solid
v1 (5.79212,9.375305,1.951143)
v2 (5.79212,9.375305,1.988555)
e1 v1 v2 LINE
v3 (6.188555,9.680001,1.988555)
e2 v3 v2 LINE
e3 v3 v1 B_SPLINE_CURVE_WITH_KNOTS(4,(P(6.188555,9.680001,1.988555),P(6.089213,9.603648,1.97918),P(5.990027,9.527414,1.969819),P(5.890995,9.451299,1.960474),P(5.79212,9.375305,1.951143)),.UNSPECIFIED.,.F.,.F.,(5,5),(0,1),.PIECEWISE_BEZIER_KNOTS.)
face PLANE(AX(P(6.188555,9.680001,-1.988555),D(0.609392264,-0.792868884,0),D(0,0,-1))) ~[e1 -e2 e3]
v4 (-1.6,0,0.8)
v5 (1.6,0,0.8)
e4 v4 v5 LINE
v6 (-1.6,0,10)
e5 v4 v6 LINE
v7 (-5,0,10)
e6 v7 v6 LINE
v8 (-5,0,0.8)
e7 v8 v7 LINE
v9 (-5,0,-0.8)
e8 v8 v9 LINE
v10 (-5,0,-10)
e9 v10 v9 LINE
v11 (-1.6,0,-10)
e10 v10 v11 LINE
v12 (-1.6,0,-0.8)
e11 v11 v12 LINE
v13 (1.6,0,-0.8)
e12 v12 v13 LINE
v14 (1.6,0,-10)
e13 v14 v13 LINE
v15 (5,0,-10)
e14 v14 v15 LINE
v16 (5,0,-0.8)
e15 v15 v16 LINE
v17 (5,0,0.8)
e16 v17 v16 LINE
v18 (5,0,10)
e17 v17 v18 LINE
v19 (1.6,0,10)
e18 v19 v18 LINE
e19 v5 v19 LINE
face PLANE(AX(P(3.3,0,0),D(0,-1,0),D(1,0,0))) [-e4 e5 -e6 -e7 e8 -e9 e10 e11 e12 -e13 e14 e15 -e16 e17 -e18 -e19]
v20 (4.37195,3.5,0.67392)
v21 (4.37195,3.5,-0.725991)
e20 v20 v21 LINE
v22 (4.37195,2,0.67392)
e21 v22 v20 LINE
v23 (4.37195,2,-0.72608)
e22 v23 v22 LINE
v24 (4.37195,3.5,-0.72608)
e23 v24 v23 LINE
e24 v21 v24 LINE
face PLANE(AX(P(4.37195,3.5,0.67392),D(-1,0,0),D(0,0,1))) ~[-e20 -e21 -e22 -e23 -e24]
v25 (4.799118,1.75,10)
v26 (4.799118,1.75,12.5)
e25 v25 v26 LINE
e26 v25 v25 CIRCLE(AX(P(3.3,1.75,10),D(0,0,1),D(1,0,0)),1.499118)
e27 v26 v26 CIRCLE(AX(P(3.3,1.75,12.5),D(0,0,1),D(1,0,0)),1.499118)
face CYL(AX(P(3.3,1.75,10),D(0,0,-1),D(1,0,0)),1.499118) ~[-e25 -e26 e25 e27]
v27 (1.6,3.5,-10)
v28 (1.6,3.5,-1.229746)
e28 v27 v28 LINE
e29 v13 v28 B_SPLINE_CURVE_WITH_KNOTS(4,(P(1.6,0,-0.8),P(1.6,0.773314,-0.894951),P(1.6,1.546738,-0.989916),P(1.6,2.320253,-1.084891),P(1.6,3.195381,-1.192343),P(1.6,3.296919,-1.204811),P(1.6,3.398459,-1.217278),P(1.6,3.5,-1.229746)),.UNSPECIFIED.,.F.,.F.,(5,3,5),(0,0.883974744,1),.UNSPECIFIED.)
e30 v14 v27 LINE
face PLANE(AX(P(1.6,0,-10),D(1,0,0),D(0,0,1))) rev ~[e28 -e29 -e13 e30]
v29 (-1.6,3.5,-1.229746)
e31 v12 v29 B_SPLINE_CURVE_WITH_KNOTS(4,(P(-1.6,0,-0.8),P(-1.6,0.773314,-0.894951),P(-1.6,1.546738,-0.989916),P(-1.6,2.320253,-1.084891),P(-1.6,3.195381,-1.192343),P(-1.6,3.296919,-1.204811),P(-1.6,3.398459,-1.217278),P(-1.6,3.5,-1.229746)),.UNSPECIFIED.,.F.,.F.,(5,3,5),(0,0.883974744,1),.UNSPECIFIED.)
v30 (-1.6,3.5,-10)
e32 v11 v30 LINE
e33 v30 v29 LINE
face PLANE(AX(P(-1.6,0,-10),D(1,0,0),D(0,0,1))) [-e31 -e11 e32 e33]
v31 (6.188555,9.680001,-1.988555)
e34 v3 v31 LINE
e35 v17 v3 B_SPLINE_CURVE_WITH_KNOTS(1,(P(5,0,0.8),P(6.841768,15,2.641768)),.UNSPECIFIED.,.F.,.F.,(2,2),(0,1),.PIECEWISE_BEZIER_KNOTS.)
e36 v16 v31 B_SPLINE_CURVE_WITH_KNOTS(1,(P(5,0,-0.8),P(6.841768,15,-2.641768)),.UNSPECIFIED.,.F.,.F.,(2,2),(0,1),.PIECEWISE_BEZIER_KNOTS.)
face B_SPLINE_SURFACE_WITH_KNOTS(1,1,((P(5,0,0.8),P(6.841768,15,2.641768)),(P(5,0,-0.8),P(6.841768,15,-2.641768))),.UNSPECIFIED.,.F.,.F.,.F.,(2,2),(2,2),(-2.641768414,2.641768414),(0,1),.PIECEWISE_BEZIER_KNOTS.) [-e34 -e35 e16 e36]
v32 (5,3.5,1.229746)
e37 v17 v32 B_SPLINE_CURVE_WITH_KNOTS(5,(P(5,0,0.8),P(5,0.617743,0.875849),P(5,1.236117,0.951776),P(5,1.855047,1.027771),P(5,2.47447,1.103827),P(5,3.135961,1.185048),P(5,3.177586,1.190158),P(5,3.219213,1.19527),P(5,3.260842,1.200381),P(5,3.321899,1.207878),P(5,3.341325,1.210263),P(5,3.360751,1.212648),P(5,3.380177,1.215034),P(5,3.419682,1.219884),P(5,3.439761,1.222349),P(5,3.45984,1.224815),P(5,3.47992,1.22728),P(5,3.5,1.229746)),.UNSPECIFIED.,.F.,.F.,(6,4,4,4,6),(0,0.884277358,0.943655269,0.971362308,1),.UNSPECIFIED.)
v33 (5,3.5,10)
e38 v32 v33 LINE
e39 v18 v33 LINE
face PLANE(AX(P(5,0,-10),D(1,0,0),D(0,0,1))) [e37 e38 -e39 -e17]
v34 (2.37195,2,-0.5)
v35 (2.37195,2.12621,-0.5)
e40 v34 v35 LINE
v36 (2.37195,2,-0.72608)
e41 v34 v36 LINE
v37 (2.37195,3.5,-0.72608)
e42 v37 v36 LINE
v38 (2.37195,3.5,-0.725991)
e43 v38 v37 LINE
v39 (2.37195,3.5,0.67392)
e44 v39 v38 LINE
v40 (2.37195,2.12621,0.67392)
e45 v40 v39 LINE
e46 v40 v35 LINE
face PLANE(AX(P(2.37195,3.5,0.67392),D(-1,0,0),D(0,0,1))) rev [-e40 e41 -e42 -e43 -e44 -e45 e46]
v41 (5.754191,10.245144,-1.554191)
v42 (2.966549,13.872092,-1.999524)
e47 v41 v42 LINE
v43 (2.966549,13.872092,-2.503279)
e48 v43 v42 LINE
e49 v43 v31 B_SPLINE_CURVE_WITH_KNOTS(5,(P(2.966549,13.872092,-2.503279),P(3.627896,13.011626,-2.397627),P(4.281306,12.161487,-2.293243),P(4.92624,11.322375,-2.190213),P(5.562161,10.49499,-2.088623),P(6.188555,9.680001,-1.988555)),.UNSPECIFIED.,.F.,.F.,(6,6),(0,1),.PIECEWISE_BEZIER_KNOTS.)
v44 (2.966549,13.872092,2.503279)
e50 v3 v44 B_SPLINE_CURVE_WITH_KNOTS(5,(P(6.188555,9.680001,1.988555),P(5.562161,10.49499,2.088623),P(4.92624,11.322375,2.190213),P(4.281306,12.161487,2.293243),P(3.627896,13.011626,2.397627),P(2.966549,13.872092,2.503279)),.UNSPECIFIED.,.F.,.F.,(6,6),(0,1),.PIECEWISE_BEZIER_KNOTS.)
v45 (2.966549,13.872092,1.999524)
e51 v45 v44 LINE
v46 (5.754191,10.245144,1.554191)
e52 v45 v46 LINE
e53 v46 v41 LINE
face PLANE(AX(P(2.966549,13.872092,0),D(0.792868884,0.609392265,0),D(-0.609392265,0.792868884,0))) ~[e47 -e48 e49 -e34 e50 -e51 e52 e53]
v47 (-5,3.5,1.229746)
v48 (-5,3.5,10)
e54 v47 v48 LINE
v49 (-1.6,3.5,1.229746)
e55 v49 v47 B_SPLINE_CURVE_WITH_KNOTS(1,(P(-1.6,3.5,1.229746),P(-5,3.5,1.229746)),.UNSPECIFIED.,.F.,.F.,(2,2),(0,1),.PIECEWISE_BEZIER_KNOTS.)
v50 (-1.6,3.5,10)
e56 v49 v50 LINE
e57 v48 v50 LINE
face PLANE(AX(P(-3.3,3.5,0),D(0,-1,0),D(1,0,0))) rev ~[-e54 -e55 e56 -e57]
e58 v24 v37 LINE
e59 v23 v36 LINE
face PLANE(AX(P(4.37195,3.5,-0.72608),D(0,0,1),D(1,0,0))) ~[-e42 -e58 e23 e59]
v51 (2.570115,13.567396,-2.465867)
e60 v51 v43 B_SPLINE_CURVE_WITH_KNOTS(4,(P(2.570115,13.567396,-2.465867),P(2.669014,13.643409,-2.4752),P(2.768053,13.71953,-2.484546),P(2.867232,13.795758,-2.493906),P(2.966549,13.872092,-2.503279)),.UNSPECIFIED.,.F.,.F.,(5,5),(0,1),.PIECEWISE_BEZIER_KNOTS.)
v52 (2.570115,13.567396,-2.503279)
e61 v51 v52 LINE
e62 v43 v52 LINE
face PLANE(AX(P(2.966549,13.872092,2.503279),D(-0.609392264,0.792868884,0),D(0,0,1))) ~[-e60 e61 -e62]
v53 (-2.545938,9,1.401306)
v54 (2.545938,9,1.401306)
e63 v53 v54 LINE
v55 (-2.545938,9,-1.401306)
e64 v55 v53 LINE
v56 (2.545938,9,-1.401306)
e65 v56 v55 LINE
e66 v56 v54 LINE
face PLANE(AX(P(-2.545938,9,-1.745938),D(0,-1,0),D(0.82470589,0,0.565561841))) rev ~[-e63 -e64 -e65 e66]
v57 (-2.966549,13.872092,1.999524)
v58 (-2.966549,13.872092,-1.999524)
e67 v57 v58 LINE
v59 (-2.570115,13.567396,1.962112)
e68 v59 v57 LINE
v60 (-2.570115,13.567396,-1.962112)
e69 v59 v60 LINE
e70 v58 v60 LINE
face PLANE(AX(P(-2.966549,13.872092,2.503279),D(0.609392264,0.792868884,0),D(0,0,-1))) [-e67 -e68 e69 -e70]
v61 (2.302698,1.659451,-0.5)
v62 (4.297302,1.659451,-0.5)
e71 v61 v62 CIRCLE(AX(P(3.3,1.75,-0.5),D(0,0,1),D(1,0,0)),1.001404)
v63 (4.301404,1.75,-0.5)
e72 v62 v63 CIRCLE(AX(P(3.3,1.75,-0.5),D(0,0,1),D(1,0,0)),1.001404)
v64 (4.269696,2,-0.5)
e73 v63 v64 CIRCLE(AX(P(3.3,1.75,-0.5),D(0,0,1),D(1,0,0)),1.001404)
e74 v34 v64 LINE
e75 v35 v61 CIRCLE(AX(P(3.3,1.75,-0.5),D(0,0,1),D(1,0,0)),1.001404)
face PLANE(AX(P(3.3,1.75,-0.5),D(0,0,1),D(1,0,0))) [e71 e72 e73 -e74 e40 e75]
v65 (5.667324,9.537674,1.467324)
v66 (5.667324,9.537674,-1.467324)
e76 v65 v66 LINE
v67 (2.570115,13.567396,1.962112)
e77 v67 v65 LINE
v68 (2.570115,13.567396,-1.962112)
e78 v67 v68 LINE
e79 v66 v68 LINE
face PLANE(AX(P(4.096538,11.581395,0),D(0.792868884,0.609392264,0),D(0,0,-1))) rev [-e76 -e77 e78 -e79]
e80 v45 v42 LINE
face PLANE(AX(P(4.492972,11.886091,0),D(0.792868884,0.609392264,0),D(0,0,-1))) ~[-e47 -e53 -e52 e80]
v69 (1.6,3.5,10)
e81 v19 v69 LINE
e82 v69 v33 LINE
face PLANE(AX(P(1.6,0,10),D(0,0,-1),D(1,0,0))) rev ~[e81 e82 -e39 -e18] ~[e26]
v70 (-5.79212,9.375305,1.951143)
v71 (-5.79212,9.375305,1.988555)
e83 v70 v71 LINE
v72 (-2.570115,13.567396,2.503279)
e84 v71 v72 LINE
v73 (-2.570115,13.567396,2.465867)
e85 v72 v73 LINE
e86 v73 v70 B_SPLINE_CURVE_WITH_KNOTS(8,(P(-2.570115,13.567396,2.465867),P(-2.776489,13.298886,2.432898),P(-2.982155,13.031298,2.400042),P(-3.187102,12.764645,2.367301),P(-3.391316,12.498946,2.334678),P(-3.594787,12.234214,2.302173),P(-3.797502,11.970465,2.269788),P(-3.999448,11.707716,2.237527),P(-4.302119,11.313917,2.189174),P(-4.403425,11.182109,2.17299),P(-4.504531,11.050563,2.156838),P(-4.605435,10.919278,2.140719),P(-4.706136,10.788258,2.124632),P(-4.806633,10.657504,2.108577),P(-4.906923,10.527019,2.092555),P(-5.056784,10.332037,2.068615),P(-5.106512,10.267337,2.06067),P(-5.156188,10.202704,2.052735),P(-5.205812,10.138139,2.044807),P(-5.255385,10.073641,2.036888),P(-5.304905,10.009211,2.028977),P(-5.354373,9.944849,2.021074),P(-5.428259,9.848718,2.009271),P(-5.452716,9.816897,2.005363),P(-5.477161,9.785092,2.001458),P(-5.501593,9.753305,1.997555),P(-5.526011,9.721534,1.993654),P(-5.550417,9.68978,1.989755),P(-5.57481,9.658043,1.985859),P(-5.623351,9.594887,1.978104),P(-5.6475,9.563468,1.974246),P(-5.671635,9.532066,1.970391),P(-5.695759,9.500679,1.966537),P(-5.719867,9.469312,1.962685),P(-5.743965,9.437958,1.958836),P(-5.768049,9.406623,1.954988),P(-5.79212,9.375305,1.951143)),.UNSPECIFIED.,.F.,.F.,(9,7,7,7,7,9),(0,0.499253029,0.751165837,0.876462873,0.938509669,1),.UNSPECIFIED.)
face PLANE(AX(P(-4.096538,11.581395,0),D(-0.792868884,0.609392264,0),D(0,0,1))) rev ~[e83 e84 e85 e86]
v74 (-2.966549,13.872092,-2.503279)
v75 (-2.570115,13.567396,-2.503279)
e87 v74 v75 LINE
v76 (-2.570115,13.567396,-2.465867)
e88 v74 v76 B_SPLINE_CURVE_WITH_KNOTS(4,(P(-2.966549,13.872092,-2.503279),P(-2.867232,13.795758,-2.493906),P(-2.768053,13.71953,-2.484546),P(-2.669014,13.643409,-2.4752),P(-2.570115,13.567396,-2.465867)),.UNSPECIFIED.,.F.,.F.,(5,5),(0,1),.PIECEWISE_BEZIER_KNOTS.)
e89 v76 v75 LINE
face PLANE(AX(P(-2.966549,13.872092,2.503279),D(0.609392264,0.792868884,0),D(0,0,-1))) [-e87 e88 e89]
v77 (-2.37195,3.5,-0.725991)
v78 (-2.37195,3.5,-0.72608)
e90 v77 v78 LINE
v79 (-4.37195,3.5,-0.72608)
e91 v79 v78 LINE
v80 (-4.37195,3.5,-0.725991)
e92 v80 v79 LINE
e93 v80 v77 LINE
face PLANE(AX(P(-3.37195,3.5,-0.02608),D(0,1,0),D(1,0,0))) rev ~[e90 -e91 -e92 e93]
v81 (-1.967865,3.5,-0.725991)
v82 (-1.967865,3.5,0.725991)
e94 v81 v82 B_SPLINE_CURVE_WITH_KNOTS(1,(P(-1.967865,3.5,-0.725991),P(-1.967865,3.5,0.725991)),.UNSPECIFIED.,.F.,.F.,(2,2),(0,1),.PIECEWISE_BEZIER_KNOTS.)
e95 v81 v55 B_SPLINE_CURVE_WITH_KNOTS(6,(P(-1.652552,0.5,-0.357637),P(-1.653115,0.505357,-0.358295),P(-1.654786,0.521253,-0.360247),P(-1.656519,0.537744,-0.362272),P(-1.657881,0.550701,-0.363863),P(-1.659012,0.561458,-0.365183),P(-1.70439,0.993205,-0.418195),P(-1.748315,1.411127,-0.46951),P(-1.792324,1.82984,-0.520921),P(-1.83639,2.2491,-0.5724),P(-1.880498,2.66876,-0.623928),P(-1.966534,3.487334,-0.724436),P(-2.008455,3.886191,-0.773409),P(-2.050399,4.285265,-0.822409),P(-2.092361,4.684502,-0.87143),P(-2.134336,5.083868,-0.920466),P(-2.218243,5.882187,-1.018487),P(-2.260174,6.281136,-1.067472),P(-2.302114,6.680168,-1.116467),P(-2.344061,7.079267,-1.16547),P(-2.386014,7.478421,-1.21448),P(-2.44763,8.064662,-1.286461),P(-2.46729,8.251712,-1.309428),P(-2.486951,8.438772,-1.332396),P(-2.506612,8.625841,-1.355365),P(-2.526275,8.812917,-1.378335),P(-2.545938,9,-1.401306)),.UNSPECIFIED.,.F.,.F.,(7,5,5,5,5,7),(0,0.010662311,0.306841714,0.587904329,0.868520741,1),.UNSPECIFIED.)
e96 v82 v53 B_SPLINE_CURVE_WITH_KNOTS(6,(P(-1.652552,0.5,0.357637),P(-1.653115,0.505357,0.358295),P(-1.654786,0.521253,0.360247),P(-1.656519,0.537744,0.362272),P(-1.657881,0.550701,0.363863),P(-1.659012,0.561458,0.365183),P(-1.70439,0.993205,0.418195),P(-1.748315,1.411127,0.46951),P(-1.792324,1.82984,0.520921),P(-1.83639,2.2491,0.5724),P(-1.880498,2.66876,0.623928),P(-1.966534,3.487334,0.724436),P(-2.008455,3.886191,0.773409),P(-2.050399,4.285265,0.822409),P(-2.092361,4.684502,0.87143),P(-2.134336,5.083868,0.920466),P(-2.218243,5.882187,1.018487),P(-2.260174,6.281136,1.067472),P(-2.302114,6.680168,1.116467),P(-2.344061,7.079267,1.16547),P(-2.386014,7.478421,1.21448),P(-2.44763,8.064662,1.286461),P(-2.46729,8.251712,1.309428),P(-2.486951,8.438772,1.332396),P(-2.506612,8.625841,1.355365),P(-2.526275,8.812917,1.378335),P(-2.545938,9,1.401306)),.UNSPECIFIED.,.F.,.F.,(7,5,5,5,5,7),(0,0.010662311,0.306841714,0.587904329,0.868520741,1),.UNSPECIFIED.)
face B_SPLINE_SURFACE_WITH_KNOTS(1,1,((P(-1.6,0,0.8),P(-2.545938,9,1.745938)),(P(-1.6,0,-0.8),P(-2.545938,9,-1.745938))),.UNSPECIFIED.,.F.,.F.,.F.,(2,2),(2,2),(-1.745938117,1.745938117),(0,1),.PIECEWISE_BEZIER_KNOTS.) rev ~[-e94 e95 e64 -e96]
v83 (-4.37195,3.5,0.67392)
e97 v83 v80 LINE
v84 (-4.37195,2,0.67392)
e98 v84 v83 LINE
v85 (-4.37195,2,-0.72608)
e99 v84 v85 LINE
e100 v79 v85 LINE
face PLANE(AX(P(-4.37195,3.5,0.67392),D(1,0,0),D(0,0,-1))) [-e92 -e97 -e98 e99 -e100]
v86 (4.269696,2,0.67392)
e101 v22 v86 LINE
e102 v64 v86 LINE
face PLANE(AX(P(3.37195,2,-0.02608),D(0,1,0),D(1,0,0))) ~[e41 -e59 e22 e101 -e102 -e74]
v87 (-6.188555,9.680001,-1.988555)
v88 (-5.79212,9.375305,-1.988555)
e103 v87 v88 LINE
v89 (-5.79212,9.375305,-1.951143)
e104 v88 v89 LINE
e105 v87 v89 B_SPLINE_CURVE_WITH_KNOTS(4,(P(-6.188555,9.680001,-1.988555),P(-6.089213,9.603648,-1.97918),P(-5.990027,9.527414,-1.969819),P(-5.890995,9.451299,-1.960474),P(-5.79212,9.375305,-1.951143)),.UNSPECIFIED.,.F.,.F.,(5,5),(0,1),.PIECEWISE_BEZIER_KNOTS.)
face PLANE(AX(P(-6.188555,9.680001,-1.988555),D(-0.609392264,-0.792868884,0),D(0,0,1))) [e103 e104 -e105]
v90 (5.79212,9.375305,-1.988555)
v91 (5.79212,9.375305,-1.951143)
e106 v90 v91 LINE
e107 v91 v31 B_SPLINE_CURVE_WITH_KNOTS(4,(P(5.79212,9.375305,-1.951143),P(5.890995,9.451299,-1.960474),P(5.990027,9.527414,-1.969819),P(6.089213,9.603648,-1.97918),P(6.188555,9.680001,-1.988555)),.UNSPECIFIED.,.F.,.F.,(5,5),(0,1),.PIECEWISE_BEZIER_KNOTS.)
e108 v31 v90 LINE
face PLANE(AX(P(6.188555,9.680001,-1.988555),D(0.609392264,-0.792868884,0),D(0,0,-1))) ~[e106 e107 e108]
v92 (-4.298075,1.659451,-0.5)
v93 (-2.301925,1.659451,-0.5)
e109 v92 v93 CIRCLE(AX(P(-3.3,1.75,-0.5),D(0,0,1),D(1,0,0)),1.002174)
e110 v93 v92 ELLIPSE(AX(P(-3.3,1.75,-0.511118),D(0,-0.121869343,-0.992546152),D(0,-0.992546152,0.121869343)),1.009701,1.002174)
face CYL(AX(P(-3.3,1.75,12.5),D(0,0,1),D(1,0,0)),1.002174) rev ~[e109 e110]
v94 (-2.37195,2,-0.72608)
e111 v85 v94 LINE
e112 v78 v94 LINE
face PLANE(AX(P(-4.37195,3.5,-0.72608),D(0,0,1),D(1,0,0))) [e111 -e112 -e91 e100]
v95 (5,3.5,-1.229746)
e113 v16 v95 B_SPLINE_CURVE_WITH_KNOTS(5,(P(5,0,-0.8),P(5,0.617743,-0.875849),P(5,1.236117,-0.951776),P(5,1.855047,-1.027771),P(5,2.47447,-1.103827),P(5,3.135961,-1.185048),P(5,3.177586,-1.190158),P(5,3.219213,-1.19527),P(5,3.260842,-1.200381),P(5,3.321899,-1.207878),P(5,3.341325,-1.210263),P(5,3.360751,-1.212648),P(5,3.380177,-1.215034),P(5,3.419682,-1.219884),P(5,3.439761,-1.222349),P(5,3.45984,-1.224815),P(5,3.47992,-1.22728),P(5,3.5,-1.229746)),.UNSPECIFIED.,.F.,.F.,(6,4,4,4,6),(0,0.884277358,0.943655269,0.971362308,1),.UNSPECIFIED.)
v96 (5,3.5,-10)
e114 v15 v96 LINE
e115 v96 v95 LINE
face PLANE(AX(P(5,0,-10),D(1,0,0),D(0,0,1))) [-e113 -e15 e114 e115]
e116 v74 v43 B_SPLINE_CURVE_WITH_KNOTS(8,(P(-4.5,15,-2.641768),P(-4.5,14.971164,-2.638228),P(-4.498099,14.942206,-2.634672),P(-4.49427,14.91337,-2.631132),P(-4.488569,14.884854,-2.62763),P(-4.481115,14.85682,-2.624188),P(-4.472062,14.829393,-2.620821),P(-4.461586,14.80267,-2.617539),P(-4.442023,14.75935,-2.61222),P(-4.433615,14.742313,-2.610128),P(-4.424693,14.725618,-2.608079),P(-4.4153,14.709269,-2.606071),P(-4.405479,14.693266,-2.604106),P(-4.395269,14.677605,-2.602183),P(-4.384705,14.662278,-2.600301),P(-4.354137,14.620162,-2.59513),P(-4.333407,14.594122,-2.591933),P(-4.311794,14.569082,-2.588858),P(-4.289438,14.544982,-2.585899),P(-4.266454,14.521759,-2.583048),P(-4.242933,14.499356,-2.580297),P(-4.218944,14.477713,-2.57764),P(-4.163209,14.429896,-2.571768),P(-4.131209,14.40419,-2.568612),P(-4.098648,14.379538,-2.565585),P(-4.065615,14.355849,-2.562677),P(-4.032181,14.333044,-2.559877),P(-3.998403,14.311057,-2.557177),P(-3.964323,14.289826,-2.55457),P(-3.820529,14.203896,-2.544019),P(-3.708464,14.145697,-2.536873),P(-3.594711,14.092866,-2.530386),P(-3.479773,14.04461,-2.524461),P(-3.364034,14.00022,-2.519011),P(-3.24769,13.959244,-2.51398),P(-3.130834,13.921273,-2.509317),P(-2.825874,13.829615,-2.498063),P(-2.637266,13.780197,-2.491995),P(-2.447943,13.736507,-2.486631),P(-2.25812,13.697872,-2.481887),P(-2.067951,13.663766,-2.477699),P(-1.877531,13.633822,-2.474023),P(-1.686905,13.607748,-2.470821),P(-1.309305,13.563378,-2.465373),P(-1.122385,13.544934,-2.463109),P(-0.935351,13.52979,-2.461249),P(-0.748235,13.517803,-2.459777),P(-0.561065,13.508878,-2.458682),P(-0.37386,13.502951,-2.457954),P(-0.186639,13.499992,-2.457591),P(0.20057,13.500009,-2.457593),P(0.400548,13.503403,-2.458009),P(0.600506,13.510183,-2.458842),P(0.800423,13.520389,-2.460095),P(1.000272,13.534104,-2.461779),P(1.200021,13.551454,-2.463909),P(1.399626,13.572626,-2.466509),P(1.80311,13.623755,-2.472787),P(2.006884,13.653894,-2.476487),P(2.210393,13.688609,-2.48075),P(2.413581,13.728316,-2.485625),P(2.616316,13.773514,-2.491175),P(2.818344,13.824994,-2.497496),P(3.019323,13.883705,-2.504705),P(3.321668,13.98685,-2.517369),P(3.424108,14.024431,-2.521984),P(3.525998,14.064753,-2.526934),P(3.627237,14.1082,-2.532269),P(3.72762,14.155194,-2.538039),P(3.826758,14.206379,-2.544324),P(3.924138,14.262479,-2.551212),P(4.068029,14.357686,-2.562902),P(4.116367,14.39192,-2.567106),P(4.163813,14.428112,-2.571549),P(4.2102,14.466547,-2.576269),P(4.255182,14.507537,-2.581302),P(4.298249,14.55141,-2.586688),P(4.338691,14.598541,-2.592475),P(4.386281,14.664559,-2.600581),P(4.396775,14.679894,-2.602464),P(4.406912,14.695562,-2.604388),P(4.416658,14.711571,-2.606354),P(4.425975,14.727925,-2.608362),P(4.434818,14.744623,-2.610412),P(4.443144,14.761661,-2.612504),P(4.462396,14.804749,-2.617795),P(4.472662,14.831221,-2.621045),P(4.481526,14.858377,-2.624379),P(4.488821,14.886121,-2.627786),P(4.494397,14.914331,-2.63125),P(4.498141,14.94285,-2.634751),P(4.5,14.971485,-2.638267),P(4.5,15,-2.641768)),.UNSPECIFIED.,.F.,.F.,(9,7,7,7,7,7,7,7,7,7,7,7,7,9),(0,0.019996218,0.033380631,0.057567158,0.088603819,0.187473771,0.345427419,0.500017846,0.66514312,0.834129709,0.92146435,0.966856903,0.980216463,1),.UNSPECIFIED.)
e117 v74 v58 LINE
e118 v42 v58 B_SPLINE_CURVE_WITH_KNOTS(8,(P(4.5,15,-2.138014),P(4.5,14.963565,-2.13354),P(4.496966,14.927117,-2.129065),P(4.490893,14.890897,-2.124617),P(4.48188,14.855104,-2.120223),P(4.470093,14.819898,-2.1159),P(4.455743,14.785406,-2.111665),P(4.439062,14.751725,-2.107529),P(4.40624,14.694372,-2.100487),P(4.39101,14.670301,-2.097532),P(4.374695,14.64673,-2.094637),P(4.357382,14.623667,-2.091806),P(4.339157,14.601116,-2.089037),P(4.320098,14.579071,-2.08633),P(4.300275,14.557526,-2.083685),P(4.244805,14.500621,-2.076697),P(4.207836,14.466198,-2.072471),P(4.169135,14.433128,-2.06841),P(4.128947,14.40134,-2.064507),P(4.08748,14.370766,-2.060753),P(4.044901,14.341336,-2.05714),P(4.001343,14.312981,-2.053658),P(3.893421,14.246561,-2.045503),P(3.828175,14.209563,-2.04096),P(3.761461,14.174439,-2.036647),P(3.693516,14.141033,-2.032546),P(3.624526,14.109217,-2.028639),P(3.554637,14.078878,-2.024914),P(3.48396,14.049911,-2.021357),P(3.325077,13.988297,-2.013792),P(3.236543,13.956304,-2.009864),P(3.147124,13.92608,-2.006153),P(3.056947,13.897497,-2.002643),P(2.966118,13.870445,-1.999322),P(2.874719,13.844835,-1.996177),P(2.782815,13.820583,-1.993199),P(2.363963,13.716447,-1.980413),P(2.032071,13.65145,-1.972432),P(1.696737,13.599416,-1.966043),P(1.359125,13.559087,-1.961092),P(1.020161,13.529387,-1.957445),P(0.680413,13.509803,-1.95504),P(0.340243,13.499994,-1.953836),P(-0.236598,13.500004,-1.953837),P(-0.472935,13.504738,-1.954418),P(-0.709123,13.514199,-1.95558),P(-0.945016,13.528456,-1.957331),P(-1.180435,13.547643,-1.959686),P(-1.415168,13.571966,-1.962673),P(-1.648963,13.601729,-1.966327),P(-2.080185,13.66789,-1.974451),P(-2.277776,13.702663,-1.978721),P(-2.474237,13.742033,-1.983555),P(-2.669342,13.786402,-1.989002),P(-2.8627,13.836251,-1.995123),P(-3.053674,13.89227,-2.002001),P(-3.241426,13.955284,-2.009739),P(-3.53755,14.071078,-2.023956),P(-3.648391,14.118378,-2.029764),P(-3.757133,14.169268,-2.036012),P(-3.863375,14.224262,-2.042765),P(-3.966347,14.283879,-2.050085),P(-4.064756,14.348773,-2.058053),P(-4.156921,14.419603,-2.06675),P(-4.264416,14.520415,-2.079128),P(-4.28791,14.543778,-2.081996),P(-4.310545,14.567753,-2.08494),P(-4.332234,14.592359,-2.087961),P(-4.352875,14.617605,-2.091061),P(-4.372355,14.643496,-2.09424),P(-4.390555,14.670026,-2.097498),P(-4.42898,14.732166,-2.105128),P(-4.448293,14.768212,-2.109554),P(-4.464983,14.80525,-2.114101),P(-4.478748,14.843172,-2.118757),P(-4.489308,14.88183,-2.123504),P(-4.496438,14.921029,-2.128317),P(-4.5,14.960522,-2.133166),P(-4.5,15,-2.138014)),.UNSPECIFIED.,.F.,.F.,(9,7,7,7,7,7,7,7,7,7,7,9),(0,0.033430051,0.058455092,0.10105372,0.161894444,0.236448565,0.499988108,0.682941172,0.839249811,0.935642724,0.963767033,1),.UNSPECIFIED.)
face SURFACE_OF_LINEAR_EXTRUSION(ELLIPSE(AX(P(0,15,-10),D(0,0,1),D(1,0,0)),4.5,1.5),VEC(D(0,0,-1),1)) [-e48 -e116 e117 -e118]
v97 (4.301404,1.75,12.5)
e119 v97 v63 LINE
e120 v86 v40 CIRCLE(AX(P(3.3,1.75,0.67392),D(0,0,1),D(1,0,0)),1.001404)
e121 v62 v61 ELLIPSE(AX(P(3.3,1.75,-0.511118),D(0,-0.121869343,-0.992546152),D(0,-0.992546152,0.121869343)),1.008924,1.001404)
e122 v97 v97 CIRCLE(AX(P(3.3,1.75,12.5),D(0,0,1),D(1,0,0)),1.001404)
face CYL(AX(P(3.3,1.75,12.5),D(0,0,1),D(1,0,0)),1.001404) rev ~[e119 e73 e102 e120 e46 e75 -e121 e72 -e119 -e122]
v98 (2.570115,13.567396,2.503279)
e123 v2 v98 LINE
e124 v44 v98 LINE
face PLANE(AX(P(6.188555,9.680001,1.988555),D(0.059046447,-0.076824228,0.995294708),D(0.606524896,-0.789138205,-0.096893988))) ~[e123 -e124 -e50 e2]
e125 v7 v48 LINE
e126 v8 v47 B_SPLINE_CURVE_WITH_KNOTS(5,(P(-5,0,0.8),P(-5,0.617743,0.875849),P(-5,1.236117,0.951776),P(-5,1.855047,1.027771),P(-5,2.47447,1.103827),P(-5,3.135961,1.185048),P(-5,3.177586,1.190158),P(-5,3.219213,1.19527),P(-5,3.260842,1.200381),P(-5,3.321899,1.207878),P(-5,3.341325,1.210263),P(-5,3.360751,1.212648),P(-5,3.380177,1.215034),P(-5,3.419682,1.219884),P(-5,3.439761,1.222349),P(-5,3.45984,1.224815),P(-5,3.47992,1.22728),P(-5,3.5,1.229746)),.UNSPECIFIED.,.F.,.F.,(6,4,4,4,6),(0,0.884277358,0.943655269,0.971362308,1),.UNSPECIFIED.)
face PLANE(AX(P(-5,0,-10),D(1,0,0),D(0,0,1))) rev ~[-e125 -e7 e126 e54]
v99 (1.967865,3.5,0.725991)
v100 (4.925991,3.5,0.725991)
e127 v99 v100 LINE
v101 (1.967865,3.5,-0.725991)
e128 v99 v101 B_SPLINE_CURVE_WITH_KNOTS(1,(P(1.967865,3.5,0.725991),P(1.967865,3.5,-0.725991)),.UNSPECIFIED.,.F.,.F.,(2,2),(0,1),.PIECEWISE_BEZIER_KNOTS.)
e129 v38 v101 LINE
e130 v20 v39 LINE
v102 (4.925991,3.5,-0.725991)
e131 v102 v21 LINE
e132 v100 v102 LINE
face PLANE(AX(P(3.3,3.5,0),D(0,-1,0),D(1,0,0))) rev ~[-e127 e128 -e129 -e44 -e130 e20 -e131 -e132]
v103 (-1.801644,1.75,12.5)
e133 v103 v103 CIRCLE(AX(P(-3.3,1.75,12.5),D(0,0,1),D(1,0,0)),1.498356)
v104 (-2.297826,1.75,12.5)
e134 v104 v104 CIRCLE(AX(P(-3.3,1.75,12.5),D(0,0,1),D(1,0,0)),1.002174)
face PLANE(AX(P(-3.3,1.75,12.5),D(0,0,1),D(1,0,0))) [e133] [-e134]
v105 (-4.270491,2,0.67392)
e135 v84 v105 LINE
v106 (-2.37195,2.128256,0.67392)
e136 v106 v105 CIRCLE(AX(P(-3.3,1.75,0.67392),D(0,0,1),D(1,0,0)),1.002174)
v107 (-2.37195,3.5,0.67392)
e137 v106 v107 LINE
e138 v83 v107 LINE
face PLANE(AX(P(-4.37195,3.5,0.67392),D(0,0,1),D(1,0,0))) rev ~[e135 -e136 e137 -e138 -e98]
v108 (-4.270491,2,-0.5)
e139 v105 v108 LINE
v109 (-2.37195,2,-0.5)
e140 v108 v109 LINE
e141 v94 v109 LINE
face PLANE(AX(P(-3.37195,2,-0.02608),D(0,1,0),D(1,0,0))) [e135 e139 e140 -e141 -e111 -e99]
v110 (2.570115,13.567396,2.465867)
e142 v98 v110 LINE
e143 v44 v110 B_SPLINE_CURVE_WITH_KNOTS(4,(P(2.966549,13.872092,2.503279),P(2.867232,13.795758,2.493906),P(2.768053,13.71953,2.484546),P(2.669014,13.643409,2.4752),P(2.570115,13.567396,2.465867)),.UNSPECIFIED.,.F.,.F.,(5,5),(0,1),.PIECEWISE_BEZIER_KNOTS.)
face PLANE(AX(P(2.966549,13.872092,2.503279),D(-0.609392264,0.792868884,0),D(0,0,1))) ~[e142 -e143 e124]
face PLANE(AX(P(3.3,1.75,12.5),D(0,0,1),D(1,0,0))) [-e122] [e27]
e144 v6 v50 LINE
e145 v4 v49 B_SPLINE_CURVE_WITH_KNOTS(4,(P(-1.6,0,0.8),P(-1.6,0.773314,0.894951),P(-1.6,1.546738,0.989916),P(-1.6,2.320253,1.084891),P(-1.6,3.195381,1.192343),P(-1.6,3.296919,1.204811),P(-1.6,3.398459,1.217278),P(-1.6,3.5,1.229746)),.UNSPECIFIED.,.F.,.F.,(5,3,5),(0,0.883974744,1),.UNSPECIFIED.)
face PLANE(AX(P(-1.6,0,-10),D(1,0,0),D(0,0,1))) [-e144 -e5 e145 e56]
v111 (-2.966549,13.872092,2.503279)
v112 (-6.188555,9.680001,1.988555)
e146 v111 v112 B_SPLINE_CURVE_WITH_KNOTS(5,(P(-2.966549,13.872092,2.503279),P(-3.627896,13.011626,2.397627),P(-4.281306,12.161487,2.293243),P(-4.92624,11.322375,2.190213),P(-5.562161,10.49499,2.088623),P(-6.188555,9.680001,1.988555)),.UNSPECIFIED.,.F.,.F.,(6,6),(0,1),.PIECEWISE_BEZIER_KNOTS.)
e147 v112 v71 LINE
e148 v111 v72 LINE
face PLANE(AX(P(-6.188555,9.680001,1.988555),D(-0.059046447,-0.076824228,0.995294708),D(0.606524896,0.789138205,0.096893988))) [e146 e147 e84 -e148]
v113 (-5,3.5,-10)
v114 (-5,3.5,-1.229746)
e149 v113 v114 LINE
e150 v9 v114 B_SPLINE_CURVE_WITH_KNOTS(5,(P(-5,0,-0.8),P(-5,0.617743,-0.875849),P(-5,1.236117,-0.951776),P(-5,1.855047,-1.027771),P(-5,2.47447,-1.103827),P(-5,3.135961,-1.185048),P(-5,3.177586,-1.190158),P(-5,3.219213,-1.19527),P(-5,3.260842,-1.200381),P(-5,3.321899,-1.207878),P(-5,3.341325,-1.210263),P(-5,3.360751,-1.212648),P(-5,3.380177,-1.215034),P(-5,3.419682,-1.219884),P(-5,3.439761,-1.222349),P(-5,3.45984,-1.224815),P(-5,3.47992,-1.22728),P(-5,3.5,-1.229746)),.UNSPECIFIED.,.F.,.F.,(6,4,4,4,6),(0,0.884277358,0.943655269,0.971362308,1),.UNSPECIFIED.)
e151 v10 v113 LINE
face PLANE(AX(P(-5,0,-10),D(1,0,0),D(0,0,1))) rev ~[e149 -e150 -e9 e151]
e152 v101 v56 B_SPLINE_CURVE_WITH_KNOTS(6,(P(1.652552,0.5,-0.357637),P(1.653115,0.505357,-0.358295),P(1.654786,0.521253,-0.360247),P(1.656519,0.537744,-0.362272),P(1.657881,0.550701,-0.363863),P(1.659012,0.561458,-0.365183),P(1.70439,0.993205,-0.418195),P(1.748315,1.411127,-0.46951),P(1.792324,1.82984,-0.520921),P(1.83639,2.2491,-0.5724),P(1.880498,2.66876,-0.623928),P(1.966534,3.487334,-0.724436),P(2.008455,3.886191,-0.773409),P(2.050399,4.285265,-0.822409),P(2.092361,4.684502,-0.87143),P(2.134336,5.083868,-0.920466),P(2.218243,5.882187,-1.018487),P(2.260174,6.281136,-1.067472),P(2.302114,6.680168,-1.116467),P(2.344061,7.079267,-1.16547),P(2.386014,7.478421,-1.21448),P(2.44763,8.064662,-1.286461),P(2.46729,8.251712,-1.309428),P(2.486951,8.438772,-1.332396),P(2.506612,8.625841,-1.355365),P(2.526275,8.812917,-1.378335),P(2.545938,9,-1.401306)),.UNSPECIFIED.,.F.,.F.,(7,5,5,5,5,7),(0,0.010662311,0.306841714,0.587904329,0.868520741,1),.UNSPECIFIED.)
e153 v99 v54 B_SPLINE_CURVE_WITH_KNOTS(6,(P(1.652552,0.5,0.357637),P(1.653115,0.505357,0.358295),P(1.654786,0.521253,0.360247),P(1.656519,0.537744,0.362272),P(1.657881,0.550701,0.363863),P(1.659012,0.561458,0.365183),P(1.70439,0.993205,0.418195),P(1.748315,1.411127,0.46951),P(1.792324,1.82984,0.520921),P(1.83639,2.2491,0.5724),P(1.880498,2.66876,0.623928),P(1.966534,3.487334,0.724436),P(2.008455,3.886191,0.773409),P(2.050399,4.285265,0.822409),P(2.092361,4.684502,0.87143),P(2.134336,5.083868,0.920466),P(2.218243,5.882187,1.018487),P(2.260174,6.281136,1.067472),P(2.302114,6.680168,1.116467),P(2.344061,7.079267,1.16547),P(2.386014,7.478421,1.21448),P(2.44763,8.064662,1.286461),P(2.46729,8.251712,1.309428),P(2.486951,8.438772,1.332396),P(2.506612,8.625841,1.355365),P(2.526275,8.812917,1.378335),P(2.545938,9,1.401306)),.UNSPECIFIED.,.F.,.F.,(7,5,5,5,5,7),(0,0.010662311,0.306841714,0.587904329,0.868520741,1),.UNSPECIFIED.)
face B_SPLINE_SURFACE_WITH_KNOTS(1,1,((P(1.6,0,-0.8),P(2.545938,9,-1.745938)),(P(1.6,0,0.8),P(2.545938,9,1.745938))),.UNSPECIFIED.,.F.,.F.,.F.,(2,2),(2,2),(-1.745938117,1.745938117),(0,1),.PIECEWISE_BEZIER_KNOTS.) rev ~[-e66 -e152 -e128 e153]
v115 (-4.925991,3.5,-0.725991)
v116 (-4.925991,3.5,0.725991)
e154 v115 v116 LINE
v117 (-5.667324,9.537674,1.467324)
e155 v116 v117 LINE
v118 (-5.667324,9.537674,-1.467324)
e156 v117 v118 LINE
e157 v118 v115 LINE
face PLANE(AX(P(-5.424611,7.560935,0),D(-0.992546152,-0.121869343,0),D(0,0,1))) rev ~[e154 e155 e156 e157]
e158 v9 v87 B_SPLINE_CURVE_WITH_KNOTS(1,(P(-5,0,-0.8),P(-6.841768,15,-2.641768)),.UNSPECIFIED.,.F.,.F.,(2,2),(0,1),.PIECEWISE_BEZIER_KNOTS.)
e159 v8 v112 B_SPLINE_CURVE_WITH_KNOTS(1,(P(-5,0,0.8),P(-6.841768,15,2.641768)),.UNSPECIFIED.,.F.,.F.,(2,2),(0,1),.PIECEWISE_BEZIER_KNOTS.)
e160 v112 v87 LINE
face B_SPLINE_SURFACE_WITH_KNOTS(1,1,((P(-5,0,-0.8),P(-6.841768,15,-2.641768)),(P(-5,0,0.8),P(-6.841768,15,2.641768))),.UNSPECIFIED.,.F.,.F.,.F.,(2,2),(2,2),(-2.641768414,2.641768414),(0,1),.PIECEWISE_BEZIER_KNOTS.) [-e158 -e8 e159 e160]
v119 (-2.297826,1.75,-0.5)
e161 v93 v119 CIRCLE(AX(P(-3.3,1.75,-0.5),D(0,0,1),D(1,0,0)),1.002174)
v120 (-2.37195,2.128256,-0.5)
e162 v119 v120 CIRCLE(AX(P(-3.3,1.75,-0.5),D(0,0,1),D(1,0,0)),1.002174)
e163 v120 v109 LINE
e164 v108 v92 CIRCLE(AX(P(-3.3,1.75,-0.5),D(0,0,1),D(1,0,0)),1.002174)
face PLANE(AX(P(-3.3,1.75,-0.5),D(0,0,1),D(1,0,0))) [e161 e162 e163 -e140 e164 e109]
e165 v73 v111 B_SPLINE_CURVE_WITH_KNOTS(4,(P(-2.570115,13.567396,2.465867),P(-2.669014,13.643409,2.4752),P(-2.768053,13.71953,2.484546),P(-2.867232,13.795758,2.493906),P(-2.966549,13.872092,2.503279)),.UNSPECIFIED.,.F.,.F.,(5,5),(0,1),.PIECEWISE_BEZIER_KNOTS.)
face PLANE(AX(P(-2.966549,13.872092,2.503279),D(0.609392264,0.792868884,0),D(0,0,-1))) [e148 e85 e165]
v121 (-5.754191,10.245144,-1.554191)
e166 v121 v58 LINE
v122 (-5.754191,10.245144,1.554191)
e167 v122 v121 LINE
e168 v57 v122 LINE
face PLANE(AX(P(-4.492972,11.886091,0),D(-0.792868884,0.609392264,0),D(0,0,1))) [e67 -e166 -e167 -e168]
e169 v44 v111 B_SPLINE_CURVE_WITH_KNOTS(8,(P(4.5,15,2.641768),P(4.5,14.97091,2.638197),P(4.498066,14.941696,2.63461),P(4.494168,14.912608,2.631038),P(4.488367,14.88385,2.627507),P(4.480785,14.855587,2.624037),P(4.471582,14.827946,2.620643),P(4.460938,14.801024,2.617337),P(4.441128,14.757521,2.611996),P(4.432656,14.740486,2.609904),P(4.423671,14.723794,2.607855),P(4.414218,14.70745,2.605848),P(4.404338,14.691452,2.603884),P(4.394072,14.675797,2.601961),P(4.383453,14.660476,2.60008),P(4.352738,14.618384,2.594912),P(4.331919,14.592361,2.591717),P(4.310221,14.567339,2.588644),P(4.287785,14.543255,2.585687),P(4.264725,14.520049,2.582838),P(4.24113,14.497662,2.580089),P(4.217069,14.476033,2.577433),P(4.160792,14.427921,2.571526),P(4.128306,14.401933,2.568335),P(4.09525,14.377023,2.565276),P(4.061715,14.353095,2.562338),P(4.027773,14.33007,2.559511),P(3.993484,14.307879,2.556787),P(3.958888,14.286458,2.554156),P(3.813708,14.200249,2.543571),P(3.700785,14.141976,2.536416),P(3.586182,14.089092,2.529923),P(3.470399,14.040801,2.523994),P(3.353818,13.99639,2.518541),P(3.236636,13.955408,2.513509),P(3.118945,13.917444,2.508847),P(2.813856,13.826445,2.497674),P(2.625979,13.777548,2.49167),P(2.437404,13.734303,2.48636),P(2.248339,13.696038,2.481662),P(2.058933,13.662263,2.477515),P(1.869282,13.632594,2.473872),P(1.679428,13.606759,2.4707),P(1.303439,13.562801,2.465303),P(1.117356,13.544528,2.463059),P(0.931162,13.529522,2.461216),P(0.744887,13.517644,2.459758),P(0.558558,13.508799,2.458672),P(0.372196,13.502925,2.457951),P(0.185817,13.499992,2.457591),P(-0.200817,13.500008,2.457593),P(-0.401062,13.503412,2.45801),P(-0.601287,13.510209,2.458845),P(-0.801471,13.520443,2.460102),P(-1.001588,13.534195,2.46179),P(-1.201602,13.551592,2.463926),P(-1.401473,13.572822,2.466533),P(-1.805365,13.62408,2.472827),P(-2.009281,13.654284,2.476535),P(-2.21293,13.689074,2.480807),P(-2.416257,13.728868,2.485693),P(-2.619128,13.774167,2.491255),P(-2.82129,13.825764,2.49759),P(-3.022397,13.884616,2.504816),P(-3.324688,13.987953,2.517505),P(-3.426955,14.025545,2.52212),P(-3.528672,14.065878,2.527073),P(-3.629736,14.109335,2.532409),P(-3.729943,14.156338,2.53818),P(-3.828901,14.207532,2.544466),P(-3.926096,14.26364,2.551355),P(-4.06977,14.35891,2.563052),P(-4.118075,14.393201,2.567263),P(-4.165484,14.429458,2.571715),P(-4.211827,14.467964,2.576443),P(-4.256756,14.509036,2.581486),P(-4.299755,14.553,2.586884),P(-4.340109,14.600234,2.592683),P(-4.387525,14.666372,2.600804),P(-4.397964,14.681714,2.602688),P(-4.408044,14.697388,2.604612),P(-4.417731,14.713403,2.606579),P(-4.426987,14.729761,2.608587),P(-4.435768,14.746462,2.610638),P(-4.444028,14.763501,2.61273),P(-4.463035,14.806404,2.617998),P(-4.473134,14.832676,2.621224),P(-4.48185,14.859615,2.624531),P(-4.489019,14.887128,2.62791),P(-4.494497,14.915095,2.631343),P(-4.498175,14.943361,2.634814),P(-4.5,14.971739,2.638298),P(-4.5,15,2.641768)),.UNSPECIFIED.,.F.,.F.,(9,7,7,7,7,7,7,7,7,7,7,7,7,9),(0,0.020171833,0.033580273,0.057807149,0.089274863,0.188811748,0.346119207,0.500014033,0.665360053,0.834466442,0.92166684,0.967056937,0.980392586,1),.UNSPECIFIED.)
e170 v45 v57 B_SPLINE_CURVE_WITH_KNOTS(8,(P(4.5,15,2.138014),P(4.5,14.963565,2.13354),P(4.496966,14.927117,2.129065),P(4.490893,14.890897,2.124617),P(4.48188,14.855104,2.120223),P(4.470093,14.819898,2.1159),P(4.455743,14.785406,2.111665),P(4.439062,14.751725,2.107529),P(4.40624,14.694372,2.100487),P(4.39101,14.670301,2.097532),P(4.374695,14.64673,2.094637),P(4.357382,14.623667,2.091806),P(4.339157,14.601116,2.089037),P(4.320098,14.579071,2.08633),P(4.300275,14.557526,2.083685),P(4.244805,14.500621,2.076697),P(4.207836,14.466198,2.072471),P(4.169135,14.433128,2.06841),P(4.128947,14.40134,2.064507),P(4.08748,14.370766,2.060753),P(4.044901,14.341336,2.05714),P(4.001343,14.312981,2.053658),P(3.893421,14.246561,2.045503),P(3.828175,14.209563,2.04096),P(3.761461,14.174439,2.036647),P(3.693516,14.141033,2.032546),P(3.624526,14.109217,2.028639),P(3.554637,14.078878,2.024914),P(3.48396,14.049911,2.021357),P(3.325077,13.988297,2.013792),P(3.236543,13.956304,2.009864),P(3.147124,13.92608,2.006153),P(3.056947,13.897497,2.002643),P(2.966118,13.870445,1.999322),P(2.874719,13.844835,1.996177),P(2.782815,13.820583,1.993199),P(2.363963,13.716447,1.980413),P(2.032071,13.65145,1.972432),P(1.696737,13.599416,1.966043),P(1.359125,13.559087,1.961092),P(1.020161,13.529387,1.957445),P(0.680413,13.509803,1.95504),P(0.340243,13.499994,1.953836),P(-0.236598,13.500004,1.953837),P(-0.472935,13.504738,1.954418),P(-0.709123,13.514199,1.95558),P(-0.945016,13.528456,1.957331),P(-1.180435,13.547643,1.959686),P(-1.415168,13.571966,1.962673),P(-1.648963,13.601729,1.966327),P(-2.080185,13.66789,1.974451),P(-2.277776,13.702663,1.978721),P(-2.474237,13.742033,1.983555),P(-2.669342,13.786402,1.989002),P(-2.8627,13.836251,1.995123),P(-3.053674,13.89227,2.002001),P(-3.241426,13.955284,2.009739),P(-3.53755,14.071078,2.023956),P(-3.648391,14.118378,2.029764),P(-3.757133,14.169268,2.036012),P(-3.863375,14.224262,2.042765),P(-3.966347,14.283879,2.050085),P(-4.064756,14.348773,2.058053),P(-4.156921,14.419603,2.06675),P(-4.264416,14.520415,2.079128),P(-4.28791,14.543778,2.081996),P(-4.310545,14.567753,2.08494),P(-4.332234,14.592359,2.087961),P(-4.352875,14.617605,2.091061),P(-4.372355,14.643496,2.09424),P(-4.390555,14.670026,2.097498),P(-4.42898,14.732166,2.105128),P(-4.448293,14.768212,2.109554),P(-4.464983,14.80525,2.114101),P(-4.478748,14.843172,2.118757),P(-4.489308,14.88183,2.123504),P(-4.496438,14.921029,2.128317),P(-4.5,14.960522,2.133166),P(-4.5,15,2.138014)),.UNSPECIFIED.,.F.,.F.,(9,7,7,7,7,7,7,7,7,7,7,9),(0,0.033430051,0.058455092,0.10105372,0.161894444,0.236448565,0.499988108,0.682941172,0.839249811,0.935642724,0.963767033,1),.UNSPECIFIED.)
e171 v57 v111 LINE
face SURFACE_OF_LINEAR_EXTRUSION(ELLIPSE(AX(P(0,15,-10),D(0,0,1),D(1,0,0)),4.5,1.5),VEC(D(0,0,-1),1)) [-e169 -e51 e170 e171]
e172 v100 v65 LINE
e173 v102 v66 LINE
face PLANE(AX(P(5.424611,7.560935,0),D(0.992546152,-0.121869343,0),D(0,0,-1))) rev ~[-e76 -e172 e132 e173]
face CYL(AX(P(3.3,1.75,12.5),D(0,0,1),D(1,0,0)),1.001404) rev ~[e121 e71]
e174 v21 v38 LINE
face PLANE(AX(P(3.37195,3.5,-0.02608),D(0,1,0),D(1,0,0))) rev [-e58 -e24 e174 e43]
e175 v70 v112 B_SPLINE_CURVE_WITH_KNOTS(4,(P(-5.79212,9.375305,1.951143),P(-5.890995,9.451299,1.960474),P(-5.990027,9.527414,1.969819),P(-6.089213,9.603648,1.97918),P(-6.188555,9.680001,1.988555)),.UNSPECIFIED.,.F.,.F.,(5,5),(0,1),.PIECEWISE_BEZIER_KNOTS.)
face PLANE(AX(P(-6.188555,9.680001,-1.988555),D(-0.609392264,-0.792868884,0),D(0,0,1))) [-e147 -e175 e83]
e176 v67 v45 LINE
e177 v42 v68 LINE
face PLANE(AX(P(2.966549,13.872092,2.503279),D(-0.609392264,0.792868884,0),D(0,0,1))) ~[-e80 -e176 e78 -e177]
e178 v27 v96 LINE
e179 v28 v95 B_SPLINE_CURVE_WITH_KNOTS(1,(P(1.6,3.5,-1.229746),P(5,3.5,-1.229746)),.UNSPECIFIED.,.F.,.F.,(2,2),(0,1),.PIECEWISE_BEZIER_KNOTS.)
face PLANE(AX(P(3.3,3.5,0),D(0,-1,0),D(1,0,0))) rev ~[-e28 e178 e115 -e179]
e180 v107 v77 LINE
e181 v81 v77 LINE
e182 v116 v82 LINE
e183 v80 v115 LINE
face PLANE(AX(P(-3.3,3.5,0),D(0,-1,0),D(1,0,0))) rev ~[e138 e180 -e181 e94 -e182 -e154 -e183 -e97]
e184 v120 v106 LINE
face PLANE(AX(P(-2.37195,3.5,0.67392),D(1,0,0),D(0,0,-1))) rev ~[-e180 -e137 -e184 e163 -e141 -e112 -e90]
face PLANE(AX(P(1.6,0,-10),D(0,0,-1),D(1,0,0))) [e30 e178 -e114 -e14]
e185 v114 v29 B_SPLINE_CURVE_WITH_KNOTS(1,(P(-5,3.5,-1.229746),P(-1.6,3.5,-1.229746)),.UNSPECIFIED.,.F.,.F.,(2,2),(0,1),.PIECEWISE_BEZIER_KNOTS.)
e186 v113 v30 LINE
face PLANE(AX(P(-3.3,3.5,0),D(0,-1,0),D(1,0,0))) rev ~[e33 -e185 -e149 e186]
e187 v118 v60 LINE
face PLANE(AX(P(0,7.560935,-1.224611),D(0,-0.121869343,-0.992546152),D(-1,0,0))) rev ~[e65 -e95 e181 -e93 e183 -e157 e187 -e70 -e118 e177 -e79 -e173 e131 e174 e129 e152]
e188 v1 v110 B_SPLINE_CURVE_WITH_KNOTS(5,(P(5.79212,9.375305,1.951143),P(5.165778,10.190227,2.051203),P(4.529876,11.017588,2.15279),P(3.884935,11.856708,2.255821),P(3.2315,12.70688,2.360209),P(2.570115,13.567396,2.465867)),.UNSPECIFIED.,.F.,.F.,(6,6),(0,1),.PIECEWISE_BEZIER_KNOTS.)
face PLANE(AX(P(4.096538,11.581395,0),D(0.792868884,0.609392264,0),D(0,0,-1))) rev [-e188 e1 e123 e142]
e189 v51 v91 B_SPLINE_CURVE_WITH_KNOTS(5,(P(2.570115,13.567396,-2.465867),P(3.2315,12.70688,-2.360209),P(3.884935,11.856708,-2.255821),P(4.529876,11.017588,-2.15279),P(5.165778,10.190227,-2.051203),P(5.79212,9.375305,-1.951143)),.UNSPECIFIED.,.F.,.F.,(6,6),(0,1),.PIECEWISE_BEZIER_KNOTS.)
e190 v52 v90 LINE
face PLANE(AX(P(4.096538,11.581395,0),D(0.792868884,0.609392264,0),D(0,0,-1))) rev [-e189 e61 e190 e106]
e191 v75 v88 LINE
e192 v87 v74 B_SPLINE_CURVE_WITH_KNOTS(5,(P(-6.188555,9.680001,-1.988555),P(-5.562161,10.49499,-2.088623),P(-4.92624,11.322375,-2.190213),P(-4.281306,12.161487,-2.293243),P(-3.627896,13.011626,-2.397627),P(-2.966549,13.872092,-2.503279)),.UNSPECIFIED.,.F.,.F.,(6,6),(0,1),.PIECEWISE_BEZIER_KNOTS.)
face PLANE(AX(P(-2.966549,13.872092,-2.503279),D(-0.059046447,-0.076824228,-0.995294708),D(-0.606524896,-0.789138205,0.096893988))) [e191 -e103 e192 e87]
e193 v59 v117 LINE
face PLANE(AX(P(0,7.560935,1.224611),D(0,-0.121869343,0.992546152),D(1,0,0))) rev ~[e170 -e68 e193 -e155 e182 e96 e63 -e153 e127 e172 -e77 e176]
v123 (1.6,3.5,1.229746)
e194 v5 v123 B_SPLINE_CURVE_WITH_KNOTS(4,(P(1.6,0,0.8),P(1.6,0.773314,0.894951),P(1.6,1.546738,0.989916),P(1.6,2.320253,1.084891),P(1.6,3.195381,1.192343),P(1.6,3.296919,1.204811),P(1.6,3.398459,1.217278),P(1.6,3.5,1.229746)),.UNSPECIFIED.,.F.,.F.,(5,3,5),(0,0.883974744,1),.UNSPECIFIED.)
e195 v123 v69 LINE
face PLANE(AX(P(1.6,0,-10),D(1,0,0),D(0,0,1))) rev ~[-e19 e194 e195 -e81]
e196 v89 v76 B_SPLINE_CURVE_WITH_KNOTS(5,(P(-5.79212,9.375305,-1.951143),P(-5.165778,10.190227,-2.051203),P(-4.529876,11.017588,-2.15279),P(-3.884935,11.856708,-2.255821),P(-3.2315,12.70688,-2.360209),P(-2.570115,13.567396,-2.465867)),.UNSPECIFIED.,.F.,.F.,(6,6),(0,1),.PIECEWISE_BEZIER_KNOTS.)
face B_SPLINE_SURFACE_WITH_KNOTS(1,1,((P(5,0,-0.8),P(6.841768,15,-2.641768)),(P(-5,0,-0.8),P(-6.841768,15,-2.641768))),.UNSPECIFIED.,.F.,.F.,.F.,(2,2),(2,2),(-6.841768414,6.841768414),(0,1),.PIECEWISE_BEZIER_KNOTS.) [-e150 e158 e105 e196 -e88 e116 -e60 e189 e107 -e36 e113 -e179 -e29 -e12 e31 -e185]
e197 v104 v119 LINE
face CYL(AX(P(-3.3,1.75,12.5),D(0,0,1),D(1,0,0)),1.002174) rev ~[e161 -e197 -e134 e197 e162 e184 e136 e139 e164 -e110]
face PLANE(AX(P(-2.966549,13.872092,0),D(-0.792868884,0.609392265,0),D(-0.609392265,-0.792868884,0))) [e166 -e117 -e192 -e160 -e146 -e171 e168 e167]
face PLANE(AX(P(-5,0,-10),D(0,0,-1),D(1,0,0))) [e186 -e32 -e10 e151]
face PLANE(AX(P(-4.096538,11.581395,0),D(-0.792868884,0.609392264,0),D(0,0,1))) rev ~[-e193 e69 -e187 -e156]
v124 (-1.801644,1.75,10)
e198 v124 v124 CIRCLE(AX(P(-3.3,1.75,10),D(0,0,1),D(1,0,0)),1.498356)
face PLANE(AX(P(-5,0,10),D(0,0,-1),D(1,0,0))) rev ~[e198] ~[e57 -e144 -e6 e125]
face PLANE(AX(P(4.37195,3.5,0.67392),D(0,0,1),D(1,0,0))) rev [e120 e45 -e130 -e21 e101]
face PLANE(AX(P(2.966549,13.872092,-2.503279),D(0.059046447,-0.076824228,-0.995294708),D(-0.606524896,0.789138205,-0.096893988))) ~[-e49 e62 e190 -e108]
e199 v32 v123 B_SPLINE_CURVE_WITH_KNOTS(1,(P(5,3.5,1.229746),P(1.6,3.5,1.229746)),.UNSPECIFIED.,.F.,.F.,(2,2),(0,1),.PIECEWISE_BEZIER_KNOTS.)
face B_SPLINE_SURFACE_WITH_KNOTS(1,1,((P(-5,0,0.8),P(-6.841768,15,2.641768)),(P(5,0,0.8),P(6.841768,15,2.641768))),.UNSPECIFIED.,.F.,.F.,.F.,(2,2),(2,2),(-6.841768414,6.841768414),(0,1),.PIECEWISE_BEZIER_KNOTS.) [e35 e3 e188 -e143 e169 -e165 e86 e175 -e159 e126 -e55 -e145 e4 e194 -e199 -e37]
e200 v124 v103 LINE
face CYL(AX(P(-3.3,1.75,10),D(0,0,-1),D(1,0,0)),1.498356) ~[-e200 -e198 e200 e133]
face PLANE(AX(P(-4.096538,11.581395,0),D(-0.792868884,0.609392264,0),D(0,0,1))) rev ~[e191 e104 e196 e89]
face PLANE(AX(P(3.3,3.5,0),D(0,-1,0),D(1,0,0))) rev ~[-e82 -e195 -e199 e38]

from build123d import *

# Parameters (mm, degrees)
SKETCH1_W                = 10
SKETCH1_H                = 1.6
BOSS_EXTRUDE1_DEPTH      = 15
BOSS_EXTRUDE1_TAPER      = -7
SHELL1_T                 = -0.5
SKETCH6_W                = 3.4
SKETCH6_H                = 20
BOSS_EXTRUDE2_DEPTH      = 3.5
BOSS_EXTRUDE2_2_DEPTH    = 3.5
CUT_EXTRUDE11_DEPTH      = 10
CUT_EXTRUDE11_DEPTH_BACK = 10
SKETCH11_RX              = 4.5
SKETCH11_RY              = 1.5
CUT_EXTRUDE12_DEPTH      = 10
BOSS_EXTRUDE3_DEPTH      = 0.5
SKETCH20_R               = 1.499118307
BOSS_EXTRUDE4_DEPTH      = 2.5
SKETCH22_R               = 1.001403974
CUT_EXTRUDE13_DEPTH      = 13
SKETCH25_W               = 2
SKETCH25_H               = 1.4
CUT_EXTRUDE14_DEPTH      = 1.5
SKETCH28_R               = 1.498355692
BOSS_EXTRUDE5_DEPTH      = 2.5
SKETCH29_R               = 1.002174376
CUT_EXTRUDE15_DEPTH      = 13
SKETCH30_W               = 3.2
SKETCH30_H               = 1.6
BOSS_EXTRUDE6_DEPTH      = 9
BOSS_EXTRUDE6_TAPER      = -6


with BuildPart() as part:
    # Sketch1 → Boss-Extrude1 (new body)
    with BuildSketch(Plane(origin=(0, 0, 0), x_dir=(1, 0, 0), z_dir=(0, 1, 0))):
        Rectangle(SKETCH1_W, SKETCH1_H)
    extrude(amount=BOSS_EXTRUDE1_DEPTH, taper=BOSS_EXTRUDE1_TAPER)

    # Shell1
    shell1_openings = [part.faces().sort_by_distance(p)[0] for p in [
        (0, 15, 0),
    ]]
    offset(amount=SHELL1_T, openings=shell1_openings, kind=Kind.INTERSECTION)

    # Sketch11 → Cut-Extrude11 (cut, two sides: drawn at the far end of the back side and taken through both)
    with BuildSketch(Plane.XY.offset(-CUT_EXTRUDE11_DEPTH_BACK)):
        with Locations((0, 15)):
            Ellipse(SKETCH11_RX, SKETCH11_RY)
    extrude(amount=CUT_EXTRUDE11_DEPTH + CUT_EXTRUDE11_DEPTH_BACK, mode=Mode.SUBTRACT)

    # Sketch18 → Cut-Extrude12 (cut, symmetric)
    with BuildSketch(Plane.XY):
        Polygon((-2.966549011, 13.872092056), (-6.188554642, 9.680000756), (-6.937287507, 15.777940591), (-2.966549011, 15.777940591), align=None)
    cut_extrude12 = extrude(amount=CUT_EXTRUDE12_DEPTH, both=True, mode=Mode.SUBTRACT)

    # Sketch19 → Boss-Extrude3 (add)
    with BuildSketch(Plane(origin=(-8.567447802, 6.584867333, 0), x_dir=(0, 0, 1), z_dir=(-0.7928688844776028, 0.6093922644957365, 0))):
        Polygon((1.988554642, 3.903714074), (2.503278732, 9.190958134), (-2.503278732, 9.190958134), (-1.988554642, 3.903714074), align=None)
    boss_extrude3 = extrude(amount=-BOSS_EXTRUDE3_DEPTH)

    # Mirror2: Cut-Extrude12 across plane
    add(cut_extrude12.mirror(Plane(origin=(0, 0, 0), x_dir=(0, 0, 1), z_dir=(1, 0, 0))), mode=Mode.SUBTRACT)

    # Mirror3: Boss-Extrude3 across plane
    add(boss_extrude3.mirror(Plane(origin=(0, 0, 0), x_dir=(0, 0, 1), z_dir=(1, 0, 0))))


with BuildPart() as body_2:
    # Sketch6 → Boss-Extrude2 (new body)
    with BuildSketch(Plane.XZ):
        with Locations((-3.3, 0)):
            Rectangle(SKETCH6_W, SKETCH6_H)
    extrude(amount=-BOSS_EXTRUDE2_DEPTH)


with BuildPart() as body_3:
    # Sketch6 → Boss-Extrude2 2 (new body)
    with BuildSketch(Plane.XZ):
        with Locations((3.3, 0)):
            Rectangle(SKETCH6_W, SKETCH6_H)
    extrude(amount=-BOSS_EXTRUDE2_2_DEPTH)

    # Sketch20 → Boss-Extrude4 (add)
    with BuildSketch(Plane.XY.offset(10)):
        with Locations((3.3, 1.75)):
            Circle(SKETCH20_R)
    extrude(amount=BOSS_EXTRUDE4_DEPTH)


with BuildPart() as cut_extrude13_tool:
    # Sketch22 → Cut-Extrude13 (new body)
    with BuildSketch(Plane.XY.offset(12.5)):
        with Locations((3.3, 1.75)):
            Circle(SKETCH22_R)
    extrude(amount=-CUT_EXTRUDE13_DEPTH)


with BuildPart() as part_1:
    add(part.part)

    # Cut-Extrude13: cut by cut_extrude13_tool
    add(cut_extrude13_tool.part, mode=Mode.SUBTRACT)


with BuildPart() as body_3_1:
    add(body_3.part)

    # Cut-Extrude13: cut by cut_extrude13_tool
    add(cut_extrude13_tool.part, mode=Mode.SUBTRACT)


with BuildPart() as cut_extrude14_tool:
    # Sketch25 → Cut-Extrude14 (new body)
    with BuildSketch(Plane(origin=(0, 3.5, 0), x_dir=(1, 0, 0), z_dir=(0, 1, 0))):
        with Locations((-3.371950412, 0.026080252)):
            Rectangle(SKETCH25_W, SKETCH25_H)
    cut_extrude14 = extrude(amount=-CUT_EXTRUDE14_DEPTH)


with BuildPart() as part_2:
    add(part_1.part)

    # Cut-Extrude14: cut by cut_extrude14_tool
    add(cut_extrude14_tool.part, mode=Mode.SUBTRACT)


with BuildPart() as body_2_1:
    add(body_2.part)

    # Cut-Extrude14: cut by cut_extrude14_tool
    add(cut_extrude14_tool.part, mode=Mode.SUBTRACT)

    # Sketch28 → Boss-Extrude5 (add)
    with BuildSketch(Plane.XY.offset(10)):
        with Locations((-3.3, 1.75)):
            Circle(SKETCH28_R)
    extrude(amount=BOSS_EXTRUDE5_DEPTH)


with BuildPart() as mirror6_tool:
    # Mirror6: Cut-Extrude14 across plane
    add(cut_extrude14.mirror(Plane(origin=(0, 0, 0), x_dir=(0, 0, 1), z_dir=(1, 0, 0))))


with BuildPart() as part_3:
    add(part_2.part)

    # Mirror6: cut by mirror6_tool
    add(mirror6_tool.part, mode=Mode.SUBTRACT)


with BuildPart() as body_3_2:
    add(body_3_1.part)

    # Mirror6: cut by mirror6_tool
    add(mirror6_tool.part, mode=Mode.SUBTRACT)


with BuildPart() as cut_extrude15_tool:
    # Sketch29 → Cut-Extrude15 (new body)
    with BuildSketch(Plane.XY.offset(12.5)):
        with Locations((-3.3, 1.75)):
            Circle(SKETCH29_R)
    extrude(amount=-CUT_EXTRUDE15_DEPTH)


with BuildPart() as part_4:
    add(part_3.part)

    # Cut-Extrude15: cut by cut_extrude15_tool
    add(cut_extrude15_tool.part, mode=Mode.SUBTRACT)



with BuildPart() as body_2_2:
    add(body_2_1.part)

    # Cut-Extrude15: cut by cut_extrude15_tool
    add(cut_extrude15_tool.part, mode=Mode.SUBTRACT)


with BuildPart() as part_5:
    add(part_4.part)

    add(body_2_2.part)  # Boss-Extrude6 merges body 2

    add(body_3_2.part)  # Boss-Extrude6 merges body 3
    # Sketch30 → Boss-Extrude6 (add)
    with BuildSketch(Plane.XZ):
        Rectangle(SKETCH30_W, SKETCH30_H)
    extrude(amount=-BOSS_EXTRUDE6_DEPTH, taper=BOSS_EXTRUDE6_TAPER)


solid = part_5.part
